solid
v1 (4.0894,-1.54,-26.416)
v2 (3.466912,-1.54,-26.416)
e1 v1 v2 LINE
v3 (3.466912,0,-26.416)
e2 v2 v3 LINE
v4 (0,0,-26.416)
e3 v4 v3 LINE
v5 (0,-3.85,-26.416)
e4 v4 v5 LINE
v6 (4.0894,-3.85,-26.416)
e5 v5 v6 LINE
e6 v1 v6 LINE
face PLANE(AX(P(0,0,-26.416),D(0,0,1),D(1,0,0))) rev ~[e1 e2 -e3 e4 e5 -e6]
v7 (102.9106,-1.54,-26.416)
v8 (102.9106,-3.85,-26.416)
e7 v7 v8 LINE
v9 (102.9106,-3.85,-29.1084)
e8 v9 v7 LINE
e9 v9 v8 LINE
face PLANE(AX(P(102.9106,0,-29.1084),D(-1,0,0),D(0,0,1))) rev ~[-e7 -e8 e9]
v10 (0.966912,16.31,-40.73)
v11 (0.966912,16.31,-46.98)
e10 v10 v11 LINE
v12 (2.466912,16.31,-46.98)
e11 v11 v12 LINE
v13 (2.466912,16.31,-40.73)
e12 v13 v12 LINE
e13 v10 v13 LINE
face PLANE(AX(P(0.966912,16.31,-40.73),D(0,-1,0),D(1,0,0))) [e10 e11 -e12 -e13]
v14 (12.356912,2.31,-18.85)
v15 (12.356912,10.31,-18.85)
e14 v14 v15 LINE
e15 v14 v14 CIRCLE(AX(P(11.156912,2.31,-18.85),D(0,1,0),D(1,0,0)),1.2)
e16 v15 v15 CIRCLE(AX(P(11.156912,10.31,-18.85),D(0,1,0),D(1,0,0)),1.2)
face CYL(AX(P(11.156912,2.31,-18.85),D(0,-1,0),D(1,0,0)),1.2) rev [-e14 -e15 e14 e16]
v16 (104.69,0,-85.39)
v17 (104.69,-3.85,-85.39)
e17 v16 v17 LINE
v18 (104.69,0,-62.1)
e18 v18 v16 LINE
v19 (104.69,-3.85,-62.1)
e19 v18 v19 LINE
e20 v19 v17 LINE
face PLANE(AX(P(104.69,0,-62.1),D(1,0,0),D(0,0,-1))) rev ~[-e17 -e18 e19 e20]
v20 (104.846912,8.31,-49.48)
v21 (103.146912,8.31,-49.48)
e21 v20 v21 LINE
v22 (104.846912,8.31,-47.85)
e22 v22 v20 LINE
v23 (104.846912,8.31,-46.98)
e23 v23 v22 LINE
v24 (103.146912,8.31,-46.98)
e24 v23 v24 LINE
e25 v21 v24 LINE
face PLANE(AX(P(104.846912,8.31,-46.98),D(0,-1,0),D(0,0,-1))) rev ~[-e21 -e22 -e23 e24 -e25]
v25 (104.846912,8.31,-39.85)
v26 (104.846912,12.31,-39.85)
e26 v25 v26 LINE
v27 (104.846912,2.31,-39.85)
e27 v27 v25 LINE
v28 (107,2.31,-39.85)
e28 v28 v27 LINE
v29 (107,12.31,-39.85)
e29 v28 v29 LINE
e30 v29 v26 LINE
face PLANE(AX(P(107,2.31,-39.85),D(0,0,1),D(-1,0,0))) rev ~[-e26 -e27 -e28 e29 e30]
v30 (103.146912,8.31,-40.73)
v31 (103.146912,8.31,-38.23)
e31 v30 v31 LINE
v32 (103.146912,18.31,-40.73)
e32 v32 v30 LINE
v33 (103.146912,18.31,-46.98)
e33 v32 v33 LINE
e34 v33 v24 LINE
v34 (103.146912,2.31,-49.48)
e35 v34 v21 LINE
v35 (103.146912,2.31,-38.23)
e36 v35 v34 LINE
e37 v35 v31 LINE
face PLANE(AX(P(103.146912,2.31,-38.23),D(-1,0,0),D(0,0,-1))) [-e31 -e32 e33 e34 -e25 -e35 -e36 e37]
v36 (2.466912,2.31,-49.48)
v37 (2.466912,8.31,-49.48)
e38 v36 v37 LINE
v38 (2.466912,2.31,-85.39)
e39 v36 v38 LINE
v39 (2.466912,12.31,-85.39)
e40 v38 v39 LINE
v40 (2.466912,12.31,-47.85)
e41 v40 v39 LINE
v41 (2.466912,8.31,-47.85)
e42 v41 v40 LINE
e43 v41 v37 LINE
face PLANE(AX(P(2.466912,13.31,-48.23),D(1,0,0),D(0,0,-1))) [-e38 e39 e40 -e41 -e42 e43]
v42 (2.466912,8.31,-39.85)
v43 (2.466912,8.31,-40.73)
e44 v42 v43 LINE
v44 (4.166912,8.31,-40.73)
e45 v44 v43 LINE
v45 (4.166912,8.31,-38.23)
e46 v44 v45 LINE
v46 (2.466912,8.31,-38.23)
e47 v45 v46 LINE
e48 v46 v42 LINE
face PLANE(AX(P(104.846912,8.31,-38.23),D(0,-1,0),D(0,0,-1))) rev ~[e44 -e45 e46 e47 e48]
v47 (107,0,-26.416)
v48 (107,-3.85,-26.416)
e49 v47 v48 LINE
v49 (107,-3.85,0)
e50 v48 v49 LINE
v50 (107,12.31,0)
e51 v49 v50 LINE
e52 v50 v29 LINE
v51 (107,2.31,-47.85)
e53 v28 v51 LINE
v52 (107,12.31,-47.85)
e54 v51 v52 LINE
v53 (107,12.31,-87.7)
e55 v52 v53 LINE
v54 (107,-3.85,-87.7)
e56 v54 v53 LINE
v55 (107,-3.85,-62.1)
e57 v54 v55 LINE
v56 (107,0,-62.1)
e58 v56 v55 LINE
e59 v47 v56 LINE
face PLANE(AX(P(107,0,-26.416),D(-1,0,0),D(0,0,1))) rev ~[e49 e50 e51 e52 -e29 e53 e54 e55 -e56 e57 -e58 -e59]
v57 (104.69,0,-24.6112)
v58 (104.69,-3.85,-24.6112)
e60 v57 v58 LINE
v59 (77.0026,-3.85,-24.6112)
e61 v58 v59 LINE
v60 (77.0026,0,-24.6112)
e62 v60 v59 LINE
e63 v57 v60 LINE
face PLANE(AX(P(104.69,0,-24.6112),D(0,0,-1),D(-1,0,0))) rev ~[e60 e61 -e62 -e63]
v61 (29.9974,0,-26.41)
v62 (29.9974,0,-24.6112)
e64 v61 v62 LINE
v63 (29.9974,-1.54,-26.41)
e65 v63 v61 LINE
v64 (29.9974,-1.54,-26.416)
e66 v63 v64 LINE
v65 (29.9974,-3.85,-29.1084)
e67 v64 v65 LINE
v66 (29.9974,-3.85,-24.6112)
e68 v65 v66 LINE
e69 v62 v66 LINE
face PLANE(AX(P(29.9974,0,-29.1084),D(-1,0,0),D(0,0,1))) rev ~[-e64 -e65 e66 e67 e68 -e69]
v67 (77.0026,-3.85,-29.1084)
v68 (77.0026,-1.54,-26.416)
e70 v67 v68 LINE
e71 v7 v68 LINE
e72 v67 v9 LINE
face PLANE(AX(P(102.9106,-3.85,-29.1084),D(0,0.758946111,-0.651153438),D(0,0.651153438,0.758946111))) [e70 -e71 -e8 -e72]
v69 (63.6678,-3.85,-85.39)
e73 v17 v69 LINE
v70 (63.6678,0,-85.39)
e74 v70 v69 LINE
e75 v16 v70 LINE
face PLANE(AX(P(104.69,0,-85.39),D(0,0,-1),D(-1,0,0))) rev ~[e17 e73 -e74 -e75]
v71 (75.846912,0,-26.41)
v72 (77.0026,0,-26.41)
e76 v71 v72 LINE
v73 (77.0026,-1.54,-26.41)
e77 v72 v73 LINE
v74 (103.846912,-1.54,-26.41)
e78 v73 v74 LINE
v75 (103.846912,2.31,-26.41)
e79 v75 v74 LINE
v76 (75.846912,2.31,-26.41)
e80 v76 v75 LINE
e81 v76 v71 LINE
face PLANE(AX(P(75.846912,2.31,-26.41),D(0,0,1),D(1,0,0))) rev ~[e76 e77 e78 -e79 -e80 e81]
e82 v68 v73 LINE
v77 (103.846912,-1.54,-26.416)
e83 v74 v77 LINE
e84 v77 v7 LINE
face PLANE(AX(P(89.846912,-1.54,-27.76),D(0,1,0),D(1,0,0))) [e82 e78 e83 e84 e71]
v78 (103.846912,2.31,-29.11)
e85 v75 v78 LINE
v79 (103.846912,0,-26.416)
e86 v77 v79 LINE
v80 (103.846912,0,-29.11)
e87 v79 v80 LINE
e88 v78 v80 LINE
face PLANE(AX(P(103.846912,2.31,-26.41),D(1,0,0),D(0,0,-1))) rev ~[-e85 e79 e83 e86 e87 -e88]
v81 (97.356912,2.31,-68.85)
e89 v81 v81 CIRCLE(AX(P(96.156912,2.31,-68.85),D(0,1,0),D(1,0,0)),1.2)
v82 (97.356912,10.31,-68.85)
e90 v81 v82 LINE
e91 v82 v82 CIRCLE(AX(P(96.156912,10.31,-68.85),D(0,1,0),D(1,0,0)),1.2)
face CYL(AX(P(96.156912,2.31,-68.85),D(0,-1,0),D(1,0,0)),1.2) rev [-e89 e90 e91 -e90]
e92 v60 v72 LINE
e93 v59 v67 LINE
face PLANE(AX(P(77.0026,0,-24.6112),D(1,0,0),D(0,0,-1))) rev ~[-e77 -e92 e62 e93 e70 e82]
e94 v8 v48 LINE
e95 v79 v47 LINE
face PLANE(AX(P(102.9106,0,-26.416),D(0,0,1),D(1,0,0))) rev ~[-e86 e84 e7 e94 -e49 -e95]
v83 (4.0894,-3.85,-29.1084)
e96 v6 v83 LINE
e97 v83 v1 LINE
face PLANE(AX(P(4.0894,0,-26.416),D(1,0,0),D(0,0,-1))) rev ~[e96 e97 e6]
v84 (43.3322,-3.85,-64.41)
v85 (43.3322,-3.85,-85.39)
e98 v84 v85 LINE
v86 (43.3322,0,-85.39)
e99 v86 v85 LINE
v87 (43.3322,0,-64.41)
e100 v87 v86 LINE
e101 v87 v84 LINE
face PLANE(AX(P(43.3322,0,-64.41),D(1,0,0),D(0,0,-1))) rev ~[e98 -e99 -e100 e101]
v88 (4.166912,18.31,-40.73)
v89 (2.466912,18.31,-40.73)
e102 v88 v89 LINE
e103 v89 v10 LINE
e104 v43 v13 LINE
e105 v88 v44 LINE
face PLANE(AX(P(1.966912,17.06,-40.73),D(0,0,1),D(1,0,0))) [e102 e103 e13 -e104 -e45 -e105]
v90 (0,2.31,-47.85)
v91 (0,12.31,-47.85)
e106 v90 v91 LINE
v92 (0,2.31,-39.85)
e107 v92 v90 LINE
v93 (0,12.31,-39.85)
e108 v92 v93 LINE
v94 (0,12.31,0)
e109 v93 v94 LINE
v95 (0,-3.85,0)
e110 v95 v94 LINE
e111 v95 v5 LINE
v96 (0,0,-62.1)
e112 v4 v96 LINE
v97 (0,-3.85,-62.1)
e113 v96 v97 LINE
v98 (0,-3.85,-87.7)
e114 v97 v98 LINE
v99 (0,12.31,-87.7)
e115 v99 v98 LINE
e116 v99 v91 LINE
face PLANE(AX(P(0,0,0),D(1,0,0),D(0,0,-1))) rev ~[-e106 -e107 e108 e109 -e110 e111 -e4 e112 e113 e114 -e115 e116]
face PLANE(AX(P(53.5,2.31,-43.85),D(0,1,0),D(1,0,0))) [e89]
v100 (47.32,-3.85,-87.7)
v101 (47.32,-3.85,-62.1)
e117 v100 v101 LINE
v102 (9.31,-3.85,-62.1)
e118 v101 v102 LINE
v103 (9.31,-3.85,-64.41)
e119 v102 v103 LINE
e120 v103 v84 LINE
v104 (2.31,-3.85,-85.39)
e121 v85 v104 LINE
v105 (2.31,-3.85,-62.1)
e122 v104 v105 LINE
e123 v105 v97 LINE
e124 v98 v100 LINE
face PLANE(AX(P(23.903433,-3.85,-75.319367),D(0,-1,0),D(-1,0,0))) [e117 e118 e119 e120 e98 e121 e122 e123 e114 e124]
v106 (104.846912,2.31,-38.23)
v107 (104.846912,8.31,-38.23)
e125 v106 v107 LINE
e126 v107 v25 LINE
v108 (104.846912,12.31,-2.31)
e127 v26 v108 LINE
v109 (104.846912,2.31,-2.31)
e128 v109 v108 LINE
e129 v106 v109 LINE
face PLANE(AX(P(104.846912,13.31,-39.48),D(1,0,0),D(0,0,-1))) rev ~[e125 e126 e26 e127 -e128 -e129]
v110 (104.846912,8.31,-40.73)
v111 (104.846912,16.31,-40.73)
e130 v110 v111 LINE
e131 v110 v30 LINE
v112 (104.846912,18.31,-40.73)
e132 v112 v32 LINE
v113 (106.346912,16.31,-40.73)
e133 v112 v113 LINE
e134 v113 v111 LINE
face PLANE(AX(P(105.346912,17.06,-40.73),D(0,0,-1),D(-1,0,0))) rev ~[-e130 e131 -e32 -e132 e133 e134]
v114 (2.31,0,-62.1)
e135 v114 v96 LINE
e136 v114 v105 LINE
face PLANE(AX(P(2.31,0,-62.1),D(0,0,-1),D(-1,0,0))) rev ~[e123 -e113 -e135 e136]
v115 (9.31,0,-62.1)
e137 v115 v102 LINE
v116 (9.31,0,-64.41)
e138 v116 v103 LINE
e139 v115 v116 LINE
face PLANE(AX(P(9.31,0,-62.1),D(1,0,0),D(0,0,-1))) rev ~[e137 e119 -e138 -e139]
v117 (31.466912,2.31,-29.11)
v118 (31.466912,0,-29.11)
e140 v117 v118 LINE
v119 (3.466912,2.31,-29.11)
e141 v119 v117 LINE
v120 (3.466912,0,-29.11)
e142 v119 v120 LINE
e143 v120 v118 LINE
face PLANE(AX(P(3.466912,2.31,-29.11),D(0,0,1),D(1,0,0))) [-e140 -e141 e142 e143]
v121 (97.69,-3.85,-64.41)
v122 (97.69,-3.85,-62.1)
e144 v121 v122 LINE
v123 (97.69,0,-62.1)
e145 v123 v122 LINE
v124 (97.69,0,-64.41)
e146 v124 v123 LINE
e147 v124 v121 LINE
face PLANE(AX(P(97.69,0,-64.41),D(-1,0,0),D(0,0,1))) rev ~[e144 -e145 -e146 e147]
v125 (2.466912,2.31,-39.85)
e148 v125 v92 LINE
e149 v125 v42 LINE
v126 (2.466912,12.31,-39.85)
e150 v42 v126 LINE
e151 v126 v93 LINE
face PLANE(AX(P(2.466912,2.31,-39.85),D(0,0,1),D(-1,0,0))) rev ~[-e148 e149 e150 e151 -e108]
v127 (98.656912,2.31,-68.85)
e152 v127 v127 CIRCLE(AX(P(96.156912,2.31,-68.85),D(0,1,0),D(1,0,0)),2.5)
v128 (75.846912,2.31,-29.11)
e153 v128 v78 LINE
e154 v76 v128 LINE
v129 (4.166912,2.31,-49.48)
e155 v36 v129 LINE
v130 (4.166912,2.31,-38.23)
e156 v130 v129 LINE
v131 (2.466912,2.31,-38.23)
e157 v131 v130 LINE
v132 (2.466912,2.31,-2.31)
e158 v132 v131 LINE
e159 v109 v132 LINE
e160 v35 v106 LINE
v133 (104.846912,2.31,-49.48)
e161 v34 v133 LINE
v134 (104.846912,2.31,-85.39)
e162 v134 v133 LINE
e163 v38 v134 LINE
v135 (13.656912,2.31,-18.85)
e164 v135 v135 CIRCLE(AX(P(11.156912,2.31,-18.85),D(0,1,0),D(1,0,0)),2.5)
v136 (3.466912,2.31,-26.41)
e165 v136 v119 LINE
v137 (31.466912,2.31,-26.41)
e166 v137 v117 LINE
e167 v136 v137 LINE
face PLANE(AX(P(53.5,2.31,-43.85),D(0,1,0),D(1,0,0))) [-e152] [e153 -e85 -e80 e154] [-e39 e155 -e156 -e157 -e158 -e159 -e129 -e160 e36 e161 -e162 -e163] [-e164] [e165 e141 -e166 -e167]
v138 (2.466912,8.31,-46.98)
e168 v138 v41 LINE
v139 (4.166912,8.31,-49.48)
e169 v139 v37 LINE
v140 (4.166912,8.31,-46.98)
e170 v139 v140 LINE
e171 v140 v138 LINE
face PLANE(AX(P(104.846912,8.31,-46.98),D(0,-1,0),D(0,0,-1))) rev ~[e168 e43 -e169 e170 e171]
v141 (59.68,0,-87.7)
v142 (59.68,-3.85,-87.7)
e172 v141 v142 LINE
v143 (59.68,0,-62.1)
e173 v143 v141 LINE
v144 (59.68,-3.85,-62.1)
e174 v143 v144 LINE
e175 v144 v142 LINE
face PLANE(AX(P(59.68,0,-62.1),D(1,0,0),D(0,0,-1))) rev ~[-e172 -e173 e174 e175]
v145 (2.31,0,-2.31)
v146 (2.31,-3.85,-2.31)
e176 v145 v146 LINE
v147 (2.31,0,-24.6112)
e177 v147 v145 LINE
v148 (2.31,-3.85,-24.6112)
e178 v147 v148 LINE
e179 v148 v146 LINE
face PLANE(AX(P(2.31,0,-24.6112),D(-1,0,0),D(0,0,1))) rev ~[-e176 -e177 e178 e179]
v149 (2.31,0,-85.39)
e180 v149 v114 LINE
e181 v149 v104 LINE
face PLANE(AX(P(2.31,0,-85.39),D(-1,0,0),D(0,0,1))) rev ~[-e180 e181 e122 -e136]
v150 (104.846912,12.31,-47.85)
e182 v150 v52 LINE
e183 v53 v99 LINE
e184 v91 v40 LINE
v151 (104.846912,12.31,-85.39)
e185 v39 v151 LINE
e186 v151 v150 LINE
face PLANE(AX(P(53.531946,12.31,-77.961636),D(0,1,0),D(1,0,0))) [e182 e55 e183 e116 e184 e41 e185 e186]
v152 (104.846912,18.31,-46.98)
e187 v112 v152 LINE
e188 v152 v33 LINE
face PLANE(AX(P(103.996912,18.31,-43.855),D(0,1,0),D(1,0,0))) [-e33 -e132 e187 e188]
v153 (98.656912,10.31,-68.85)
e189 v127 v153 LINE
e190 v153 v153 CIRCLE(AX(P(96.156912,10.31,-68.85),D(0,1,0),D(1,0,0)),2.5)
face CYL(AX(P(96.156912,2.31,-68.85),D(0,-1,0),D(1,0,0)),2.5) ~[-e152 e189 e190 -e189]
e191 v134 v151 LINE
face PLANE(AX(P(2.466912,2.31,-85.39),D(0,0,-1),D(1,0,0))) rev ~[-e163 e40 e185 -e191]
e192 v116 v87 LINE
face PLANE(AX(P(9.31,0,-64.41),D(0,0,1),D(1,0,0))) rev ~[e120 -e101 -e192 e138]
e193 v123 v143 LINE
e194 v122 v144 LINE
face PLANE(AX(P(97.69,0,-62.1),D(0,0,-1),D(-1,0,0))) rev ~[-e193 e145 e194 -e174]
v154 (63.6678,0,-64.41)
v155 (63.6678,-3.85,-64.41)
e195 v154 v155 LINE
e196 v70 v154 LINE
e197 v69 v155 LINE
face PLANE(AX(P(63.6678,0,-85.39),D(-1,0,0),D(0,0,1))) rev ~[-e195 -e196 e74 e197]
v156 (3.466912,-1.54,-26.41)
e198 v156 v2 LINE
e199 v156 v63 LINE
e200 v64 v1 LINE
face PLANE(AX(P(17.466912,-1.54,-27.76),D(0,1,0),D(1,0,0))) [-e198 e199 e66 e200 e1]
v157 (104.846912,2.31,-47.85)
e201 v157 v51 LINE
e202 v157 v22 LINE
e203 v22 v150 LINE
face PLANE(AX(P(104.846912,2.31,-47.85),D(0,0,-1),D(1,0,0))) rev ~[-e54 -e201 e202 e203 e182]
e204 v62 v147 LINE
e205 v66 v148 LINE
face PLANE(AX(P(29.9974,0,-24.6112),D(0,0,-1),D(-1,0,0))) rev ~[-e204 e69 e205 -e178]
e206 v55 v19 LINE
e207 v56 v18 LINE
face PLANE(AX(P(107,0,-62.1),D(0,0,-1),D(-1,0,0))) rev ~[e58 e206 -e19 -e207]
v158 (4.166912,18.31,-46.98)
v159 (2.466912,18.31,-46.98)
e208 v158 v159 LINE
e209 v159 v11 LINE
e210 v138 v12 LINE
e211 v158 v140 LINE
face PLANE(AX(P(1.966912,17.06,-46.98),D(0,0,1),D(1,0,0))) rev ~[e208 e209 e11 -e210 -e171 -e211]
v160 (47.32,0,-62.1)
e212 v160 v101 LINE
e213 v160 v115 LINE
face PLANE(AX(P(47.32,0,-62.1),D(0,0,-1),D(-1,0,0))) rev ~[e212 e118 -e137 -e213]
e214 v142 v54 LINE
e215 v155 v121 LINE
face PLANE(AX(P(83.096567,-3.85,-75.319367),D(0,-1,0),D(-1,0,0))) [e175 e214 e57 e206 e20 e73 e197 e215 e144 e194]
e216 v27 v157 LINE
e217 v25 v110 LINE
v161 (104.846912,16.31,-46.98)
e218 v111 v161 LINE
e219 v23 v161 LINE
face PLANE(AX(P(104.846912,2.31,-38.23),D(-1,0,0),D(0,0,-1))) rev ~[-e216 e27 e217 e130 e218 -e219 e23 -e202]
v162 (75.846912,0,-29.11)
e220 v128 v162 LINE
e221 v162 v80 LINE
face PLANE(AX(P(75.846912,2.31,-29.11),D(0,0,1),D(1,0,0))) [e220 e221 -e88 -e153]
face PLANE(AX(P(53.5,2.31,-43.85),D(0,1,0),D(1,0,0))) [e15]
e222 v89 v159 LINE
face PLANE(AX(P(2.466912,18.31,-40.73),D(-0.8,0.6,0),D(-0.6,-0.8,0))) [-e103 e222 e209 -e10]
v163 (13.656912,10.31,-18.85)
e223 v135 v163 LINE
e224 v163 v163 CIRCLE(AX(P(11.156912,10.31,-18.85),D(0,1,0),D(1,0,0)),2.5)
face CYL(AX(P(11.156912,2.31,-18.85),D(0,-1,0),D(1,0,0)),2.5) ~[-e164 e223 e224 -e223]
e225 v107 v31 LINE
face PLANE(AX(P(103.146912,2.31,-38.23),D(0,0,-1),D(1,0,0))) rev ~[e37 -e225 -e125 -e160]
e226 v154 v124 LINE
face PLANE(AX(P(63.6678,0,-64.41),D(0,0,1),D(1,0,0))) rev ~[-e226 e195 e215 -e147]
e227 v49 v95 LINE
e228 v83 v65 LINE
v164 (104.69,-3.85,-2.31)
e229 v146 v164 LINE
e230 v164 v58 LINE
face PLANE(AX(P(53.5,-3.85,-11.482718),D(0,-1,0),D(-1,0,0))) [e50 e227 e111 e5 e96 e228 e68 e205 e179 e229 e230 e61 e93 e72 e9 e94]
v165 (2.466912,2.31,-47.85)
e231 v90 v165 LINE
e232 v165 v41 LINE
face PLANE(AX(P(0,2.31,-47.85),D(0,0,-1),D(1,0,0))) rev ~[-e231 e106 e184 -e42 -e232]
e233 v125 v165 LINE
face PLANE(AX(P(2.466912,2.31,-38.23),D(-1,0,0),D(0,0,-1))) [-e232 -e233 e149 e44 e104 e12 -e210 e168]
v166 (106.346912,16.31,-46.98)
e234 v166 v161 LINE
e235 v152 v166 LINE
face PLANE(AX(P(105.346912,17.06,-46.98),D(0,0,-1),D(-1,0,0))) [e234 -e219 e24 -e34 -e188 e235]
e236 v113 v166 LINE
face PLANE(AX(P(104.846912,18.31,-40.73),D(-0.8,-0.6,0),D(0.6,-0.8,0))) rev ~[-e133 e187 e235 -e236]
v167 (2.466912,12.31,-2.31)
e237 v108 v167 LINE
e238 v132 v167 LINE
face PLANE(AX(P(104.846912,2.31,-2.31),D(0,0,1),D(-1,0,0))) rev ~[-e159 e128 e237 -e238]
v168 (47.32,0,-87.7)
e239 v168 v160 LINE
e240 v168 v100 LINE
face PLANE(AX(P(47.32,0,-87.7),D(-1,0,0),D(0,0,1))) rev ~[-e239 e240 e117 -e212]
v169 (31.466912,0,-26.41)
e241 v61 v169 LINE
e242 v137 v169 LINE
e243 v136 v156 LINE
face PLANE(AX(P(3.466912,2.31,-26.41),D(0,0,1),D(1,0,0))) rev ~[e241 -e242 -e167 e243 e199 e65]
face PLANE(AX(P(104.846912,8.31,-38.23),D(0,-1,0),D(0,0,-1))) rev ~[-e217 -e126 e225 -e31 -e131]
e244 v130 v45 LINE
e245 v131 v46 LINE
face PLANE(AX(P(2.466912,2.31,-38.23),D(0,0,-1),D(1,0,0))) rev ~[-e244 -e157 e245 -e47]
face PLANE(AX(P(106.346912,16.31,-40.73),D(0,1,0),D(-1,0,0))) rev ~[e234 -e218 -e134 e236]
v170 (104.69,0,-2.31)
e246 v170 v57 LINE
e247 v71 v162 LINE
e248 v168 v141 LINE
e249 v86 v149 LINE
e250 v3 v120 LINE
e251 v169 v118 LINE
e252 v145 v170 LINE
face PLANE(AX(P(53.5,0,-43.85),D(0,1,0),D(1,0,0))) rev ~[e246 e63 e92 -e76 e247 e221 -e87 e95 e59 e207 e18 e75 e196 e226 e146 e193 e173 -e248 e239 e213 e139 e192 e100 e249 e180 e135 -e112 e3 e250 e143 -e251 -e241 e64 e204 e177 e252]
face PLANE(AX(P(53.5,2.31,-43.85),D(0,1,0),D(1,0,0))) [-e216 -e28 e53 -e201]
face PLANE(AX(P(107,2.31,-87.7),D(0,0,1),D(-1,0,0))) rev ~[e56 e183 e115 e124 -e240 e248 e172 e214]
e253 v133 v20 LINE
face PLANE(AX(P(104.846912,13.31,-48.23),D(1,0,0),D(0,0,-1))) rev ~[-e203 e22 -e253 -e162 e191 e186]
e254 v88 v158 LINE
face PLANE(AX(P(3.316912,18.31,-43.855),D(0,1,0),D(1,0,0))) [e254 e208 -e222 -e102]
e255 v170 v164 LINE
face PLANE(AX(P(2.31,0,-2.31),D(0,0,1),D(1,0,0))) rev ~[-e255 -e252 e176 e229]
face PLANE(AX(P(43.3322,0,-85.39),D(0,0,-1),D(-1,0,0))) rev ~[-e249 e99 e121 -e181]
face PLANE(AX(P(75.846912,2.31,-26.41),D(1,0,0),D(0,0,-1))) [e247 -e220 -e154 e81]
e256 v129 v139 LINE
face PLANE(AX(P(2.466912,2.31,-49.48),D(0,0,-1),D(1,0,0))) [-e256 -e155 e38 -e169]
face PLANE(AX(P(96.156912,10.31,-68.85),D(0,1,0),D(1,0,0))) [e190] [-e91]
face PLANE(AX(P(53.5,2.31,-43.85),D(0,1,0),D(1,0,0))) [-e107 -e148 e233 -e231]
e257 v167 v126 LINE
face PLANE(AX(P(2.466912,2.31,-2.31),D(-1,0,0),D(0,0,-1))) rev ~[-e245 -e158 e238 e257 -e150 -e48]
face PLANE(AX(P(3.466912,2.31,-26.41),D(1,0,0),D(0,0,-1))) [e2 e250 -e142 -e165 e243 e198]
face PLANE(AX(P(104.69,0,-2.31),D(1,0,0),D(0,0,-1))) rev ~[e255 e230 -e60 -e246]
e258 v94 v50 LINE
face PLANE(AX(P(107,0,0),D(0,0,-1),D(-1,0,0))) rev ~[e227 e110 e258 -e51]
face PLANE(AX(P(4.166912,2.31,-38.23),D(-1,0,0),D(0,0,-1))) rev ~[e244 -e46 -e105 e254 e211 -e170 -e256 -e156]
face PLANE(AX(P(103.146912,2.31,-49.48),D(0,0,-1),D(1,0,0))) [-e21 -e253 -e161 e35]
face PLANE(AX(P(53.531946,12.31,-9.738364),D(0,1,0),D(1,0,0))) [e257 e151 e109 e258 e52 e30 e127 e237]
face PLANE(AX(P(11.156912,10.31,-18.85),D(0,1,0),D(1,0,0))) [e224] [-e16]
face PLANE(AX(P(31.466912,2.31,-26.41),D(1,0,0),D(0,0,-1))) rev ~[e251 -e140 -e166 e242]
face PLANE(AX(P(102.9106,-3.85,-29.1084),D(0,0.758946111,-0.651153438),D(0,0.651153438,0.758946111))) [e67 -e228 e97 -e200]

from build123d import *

# Parameters (mm, degrees)
SKETCH1_W           = 107
SKETCH1_H           = 87.7
BOSS_EXTRUDE1_DEPTH = 2.31
BOSS_EXTRUDE2_DEPTH = 10
SKETCH3_R           = 2.5
SKETCH3_R_2         = 1.2
BOSS_EXTRUDE3_DEPTH = 8
BOSS_EXTRUDE4_DEPTH = 3.85
SKETCH5_W           = 28
SKETCH5_H           = 2.7
CUT_EXTRUDE1_DEPTH  = 3.85
CUT_EXTRUDE2_DEPTH  = 107
SKETCH7_W           = 1.7
SKETCH7_H           = 11.25
BOSS_EXTRUDE5_DEPTH = 16
SKETCH8_W           = 2.5
SKETCH8_H           = 10
CUT_EXTRUDE3_DEPTH  = 102.38
BOSS_EXTRUDE6_DEPTH = 6.25
BOSS_EXTRUDE7_DEPTH = 6.25


with BuildPart() as part:
    # Sketch1 → Boss-Extrude1 (new body)
    with BuildSketch(Plane(origin=(0, 0, 0), x_dir=(1, 0, 0), z_dir=(0, 1, 0))):
        with Locations((53.5, 43.85)):
            Rectangle(SKETCH1_W, SKETCH1_H)
    extrude(amount=BOSS_EXTRUDE1_DEPTH)

    # Sketch2 → Boss-Extrude2 (add)
    with BuildSketch(Plane(origin=(0, 2.31, 0), x_dir=(1, 0, 0), z_dir=(0, 1, 0))):
        Polygon((0, 47.85), (2.466911691, 47.85), (2.466911691, 85.39), (104.846911691, 85.39), (104.846911691, 47.85), (107, 47.85), (107, 87.7), (0, 87.7), align=None)
        Polygon((0, 0), (107, 0), (107, 39.85), (104.846911691, 39.85), (104.846911691, 2.31), (2.466911691, 2.31), (2.466911691, 39.85), (0, 39.85), align=None)
    extrude(amount=BOSS_EXTRUDE2_DEPTH)

    # Sketch3 → Boss-Extrude3 (add)
    with BuildSketch(Plane(origin=(0, 2.31, 0), x_dir=(1, 0, 0), z_dir=(0, 1, 0))):
        with Locations((11.156911691, 18.85)):
            Circle(SKETCH3_R)
        with Locations((11.156911691, 18.85)):
            Circle(SKETCH3_R_2, mode=Mode.SUBTRACT)
        with Locations((96.156911691, 68.85)):
            Circle(SKETCH3_R)
        with Locations((96.156911691, 68.85)):
            Circle(SKETCH3_R_2, mode=Mode.SUBTRACT)
    extrude(amount=BOSS_EXTRUDE3_DEPTH)

    # Sketch4 → Boss-Extrude4 (add)
    with BuildSketch(Plane(origin=(0, 0, 0), x_dir=(-1, 0, 0), z_dir=(0, -1, 0))):
        Polygon((0, 0), (0, 26.416), (-4.0894, 26.416), (-4.0894, 29.1084), (-29.9974, 29.1084), (-29.9974, 24.6112), (-2.31, 24.6112), (-2.31, 2.31), (-104.69, 2.31), (-104.69, 24.6112), (-77.0026, 24.6112), (-77.0026, 29.1084), (-102.9106, 29.1084), (-102.9106, 26.416), (-107, 26.416), (-107, 0), align=None)
        Polygon((0, 62.1), (0, 87.7), (-47.32, 87.7), (-47.32, 62.1), (-9.31, 62.1), (-9.31, 64.41), (-43.3322, 64.41), (-43.3322, 85.39), (-2.31, 85.39), (-2.31, 62.1), align=None)
        Polygon((-59.68, 87.7), (-107, 87.7), (-107, 62.1), (-104.69, 62.1), (-104.69, 85.39), (-63.6678, 85.39), (-63.6678, 64.41), (-97.69, 64.41), (-97.69, 62.1), (-59.68, 62.1), align=None)
    extrude(amount=BOSS_EXTRUDE4_DEPTH)

    # Sketch5 → Cut-Extrude1 (cut)
    with BuildSketch(Plane(origin=(0, 2.31, 0), x_dir=(1, 0, 0), z_dir=(0, 1, 0))):
        with Locations((17.466911691, 27.76)):
            Rectangle(SKETCH5_W, SKETCH5_H)
        with Locations((89.846911691, 27.76)):
            Rectangle(SKETCH5_W, SKETCH5_H)
    extrude(amount=-CUT_EXTRUDE1_DEPTH, mode=Mode.SUBTRACT)

    # Sketch6 → Cut-Extrude2 (cut)
    with BuildSketch(Plane(origin=(102.9106, 0, 0), x_dir=(0, 0, -1), z_dir=(1, 0, 0))):
        Polygon((29.1084, -3.85), (26.416, -1.54), (29.1084, -1.54), align=None)
    extrude(amount=-CUT_EXTRUDE2_DEPTH, mode=Mode.SUBTRACT)

    # Sketch7 → Boss-Extrude5 (add)
    with BuildSketch(Plane(origin=(0, 2.31, 0), x_dir=(1, 0, 0), z_dir=(0, 1, 0))):
        with Locations((3.316911691, 43.855)):
            Rectangle(SKETCH7_W, SKETCH7_H)
        with Locations((103.996911691, 43.855)):
            Rectangle(SKETCH7_W, SKETCH7_H)
    extrude(amount=BOSS_EXTRUDE5_DEPTH)

    # Sketch8 → Cut-Extrude3 (cut)
    with BuildSketch(Plane(origin=(104.846911691, 0, 0), x_dir=(0, 0, -1), z_dir=(1, 0, 0))):
        with Locations((39.48, 13.31)):
            Rectangle(SKETCH8_W, SKETCH8_H)
        with Locations((48.23, 13.31)):
            Rectangle(SKETCH8_W, SKETCH8_H)
    extrude(amount=-CUT_EXTRUDE3_DEPTH, mode=Mode.SUBTRACT)

    # Sketch9 → Boss-Extrude6 (add)
    with BuildSketch(Plane.XY.offset(-40.73)):
        Polygon((104.846911691, 18.31), (106.346911691, 16.31), (104.846911691, 16.31), align=None)
    extrude(amount=-BOSS_EXTRUDE6_DEPTH)

    # Sketch10 → Boss-Extrude7 (add)
    with BuildSketch(Plane.XY.offset(-40.73)):
        Polygon((0.966911691, 16.31), (2.466911691, 16.31), (2.466911691, 18.31), align=None)
    extrude(amount=-BOSS_EXTRUDE7_DEPTH)


solid = part.part
